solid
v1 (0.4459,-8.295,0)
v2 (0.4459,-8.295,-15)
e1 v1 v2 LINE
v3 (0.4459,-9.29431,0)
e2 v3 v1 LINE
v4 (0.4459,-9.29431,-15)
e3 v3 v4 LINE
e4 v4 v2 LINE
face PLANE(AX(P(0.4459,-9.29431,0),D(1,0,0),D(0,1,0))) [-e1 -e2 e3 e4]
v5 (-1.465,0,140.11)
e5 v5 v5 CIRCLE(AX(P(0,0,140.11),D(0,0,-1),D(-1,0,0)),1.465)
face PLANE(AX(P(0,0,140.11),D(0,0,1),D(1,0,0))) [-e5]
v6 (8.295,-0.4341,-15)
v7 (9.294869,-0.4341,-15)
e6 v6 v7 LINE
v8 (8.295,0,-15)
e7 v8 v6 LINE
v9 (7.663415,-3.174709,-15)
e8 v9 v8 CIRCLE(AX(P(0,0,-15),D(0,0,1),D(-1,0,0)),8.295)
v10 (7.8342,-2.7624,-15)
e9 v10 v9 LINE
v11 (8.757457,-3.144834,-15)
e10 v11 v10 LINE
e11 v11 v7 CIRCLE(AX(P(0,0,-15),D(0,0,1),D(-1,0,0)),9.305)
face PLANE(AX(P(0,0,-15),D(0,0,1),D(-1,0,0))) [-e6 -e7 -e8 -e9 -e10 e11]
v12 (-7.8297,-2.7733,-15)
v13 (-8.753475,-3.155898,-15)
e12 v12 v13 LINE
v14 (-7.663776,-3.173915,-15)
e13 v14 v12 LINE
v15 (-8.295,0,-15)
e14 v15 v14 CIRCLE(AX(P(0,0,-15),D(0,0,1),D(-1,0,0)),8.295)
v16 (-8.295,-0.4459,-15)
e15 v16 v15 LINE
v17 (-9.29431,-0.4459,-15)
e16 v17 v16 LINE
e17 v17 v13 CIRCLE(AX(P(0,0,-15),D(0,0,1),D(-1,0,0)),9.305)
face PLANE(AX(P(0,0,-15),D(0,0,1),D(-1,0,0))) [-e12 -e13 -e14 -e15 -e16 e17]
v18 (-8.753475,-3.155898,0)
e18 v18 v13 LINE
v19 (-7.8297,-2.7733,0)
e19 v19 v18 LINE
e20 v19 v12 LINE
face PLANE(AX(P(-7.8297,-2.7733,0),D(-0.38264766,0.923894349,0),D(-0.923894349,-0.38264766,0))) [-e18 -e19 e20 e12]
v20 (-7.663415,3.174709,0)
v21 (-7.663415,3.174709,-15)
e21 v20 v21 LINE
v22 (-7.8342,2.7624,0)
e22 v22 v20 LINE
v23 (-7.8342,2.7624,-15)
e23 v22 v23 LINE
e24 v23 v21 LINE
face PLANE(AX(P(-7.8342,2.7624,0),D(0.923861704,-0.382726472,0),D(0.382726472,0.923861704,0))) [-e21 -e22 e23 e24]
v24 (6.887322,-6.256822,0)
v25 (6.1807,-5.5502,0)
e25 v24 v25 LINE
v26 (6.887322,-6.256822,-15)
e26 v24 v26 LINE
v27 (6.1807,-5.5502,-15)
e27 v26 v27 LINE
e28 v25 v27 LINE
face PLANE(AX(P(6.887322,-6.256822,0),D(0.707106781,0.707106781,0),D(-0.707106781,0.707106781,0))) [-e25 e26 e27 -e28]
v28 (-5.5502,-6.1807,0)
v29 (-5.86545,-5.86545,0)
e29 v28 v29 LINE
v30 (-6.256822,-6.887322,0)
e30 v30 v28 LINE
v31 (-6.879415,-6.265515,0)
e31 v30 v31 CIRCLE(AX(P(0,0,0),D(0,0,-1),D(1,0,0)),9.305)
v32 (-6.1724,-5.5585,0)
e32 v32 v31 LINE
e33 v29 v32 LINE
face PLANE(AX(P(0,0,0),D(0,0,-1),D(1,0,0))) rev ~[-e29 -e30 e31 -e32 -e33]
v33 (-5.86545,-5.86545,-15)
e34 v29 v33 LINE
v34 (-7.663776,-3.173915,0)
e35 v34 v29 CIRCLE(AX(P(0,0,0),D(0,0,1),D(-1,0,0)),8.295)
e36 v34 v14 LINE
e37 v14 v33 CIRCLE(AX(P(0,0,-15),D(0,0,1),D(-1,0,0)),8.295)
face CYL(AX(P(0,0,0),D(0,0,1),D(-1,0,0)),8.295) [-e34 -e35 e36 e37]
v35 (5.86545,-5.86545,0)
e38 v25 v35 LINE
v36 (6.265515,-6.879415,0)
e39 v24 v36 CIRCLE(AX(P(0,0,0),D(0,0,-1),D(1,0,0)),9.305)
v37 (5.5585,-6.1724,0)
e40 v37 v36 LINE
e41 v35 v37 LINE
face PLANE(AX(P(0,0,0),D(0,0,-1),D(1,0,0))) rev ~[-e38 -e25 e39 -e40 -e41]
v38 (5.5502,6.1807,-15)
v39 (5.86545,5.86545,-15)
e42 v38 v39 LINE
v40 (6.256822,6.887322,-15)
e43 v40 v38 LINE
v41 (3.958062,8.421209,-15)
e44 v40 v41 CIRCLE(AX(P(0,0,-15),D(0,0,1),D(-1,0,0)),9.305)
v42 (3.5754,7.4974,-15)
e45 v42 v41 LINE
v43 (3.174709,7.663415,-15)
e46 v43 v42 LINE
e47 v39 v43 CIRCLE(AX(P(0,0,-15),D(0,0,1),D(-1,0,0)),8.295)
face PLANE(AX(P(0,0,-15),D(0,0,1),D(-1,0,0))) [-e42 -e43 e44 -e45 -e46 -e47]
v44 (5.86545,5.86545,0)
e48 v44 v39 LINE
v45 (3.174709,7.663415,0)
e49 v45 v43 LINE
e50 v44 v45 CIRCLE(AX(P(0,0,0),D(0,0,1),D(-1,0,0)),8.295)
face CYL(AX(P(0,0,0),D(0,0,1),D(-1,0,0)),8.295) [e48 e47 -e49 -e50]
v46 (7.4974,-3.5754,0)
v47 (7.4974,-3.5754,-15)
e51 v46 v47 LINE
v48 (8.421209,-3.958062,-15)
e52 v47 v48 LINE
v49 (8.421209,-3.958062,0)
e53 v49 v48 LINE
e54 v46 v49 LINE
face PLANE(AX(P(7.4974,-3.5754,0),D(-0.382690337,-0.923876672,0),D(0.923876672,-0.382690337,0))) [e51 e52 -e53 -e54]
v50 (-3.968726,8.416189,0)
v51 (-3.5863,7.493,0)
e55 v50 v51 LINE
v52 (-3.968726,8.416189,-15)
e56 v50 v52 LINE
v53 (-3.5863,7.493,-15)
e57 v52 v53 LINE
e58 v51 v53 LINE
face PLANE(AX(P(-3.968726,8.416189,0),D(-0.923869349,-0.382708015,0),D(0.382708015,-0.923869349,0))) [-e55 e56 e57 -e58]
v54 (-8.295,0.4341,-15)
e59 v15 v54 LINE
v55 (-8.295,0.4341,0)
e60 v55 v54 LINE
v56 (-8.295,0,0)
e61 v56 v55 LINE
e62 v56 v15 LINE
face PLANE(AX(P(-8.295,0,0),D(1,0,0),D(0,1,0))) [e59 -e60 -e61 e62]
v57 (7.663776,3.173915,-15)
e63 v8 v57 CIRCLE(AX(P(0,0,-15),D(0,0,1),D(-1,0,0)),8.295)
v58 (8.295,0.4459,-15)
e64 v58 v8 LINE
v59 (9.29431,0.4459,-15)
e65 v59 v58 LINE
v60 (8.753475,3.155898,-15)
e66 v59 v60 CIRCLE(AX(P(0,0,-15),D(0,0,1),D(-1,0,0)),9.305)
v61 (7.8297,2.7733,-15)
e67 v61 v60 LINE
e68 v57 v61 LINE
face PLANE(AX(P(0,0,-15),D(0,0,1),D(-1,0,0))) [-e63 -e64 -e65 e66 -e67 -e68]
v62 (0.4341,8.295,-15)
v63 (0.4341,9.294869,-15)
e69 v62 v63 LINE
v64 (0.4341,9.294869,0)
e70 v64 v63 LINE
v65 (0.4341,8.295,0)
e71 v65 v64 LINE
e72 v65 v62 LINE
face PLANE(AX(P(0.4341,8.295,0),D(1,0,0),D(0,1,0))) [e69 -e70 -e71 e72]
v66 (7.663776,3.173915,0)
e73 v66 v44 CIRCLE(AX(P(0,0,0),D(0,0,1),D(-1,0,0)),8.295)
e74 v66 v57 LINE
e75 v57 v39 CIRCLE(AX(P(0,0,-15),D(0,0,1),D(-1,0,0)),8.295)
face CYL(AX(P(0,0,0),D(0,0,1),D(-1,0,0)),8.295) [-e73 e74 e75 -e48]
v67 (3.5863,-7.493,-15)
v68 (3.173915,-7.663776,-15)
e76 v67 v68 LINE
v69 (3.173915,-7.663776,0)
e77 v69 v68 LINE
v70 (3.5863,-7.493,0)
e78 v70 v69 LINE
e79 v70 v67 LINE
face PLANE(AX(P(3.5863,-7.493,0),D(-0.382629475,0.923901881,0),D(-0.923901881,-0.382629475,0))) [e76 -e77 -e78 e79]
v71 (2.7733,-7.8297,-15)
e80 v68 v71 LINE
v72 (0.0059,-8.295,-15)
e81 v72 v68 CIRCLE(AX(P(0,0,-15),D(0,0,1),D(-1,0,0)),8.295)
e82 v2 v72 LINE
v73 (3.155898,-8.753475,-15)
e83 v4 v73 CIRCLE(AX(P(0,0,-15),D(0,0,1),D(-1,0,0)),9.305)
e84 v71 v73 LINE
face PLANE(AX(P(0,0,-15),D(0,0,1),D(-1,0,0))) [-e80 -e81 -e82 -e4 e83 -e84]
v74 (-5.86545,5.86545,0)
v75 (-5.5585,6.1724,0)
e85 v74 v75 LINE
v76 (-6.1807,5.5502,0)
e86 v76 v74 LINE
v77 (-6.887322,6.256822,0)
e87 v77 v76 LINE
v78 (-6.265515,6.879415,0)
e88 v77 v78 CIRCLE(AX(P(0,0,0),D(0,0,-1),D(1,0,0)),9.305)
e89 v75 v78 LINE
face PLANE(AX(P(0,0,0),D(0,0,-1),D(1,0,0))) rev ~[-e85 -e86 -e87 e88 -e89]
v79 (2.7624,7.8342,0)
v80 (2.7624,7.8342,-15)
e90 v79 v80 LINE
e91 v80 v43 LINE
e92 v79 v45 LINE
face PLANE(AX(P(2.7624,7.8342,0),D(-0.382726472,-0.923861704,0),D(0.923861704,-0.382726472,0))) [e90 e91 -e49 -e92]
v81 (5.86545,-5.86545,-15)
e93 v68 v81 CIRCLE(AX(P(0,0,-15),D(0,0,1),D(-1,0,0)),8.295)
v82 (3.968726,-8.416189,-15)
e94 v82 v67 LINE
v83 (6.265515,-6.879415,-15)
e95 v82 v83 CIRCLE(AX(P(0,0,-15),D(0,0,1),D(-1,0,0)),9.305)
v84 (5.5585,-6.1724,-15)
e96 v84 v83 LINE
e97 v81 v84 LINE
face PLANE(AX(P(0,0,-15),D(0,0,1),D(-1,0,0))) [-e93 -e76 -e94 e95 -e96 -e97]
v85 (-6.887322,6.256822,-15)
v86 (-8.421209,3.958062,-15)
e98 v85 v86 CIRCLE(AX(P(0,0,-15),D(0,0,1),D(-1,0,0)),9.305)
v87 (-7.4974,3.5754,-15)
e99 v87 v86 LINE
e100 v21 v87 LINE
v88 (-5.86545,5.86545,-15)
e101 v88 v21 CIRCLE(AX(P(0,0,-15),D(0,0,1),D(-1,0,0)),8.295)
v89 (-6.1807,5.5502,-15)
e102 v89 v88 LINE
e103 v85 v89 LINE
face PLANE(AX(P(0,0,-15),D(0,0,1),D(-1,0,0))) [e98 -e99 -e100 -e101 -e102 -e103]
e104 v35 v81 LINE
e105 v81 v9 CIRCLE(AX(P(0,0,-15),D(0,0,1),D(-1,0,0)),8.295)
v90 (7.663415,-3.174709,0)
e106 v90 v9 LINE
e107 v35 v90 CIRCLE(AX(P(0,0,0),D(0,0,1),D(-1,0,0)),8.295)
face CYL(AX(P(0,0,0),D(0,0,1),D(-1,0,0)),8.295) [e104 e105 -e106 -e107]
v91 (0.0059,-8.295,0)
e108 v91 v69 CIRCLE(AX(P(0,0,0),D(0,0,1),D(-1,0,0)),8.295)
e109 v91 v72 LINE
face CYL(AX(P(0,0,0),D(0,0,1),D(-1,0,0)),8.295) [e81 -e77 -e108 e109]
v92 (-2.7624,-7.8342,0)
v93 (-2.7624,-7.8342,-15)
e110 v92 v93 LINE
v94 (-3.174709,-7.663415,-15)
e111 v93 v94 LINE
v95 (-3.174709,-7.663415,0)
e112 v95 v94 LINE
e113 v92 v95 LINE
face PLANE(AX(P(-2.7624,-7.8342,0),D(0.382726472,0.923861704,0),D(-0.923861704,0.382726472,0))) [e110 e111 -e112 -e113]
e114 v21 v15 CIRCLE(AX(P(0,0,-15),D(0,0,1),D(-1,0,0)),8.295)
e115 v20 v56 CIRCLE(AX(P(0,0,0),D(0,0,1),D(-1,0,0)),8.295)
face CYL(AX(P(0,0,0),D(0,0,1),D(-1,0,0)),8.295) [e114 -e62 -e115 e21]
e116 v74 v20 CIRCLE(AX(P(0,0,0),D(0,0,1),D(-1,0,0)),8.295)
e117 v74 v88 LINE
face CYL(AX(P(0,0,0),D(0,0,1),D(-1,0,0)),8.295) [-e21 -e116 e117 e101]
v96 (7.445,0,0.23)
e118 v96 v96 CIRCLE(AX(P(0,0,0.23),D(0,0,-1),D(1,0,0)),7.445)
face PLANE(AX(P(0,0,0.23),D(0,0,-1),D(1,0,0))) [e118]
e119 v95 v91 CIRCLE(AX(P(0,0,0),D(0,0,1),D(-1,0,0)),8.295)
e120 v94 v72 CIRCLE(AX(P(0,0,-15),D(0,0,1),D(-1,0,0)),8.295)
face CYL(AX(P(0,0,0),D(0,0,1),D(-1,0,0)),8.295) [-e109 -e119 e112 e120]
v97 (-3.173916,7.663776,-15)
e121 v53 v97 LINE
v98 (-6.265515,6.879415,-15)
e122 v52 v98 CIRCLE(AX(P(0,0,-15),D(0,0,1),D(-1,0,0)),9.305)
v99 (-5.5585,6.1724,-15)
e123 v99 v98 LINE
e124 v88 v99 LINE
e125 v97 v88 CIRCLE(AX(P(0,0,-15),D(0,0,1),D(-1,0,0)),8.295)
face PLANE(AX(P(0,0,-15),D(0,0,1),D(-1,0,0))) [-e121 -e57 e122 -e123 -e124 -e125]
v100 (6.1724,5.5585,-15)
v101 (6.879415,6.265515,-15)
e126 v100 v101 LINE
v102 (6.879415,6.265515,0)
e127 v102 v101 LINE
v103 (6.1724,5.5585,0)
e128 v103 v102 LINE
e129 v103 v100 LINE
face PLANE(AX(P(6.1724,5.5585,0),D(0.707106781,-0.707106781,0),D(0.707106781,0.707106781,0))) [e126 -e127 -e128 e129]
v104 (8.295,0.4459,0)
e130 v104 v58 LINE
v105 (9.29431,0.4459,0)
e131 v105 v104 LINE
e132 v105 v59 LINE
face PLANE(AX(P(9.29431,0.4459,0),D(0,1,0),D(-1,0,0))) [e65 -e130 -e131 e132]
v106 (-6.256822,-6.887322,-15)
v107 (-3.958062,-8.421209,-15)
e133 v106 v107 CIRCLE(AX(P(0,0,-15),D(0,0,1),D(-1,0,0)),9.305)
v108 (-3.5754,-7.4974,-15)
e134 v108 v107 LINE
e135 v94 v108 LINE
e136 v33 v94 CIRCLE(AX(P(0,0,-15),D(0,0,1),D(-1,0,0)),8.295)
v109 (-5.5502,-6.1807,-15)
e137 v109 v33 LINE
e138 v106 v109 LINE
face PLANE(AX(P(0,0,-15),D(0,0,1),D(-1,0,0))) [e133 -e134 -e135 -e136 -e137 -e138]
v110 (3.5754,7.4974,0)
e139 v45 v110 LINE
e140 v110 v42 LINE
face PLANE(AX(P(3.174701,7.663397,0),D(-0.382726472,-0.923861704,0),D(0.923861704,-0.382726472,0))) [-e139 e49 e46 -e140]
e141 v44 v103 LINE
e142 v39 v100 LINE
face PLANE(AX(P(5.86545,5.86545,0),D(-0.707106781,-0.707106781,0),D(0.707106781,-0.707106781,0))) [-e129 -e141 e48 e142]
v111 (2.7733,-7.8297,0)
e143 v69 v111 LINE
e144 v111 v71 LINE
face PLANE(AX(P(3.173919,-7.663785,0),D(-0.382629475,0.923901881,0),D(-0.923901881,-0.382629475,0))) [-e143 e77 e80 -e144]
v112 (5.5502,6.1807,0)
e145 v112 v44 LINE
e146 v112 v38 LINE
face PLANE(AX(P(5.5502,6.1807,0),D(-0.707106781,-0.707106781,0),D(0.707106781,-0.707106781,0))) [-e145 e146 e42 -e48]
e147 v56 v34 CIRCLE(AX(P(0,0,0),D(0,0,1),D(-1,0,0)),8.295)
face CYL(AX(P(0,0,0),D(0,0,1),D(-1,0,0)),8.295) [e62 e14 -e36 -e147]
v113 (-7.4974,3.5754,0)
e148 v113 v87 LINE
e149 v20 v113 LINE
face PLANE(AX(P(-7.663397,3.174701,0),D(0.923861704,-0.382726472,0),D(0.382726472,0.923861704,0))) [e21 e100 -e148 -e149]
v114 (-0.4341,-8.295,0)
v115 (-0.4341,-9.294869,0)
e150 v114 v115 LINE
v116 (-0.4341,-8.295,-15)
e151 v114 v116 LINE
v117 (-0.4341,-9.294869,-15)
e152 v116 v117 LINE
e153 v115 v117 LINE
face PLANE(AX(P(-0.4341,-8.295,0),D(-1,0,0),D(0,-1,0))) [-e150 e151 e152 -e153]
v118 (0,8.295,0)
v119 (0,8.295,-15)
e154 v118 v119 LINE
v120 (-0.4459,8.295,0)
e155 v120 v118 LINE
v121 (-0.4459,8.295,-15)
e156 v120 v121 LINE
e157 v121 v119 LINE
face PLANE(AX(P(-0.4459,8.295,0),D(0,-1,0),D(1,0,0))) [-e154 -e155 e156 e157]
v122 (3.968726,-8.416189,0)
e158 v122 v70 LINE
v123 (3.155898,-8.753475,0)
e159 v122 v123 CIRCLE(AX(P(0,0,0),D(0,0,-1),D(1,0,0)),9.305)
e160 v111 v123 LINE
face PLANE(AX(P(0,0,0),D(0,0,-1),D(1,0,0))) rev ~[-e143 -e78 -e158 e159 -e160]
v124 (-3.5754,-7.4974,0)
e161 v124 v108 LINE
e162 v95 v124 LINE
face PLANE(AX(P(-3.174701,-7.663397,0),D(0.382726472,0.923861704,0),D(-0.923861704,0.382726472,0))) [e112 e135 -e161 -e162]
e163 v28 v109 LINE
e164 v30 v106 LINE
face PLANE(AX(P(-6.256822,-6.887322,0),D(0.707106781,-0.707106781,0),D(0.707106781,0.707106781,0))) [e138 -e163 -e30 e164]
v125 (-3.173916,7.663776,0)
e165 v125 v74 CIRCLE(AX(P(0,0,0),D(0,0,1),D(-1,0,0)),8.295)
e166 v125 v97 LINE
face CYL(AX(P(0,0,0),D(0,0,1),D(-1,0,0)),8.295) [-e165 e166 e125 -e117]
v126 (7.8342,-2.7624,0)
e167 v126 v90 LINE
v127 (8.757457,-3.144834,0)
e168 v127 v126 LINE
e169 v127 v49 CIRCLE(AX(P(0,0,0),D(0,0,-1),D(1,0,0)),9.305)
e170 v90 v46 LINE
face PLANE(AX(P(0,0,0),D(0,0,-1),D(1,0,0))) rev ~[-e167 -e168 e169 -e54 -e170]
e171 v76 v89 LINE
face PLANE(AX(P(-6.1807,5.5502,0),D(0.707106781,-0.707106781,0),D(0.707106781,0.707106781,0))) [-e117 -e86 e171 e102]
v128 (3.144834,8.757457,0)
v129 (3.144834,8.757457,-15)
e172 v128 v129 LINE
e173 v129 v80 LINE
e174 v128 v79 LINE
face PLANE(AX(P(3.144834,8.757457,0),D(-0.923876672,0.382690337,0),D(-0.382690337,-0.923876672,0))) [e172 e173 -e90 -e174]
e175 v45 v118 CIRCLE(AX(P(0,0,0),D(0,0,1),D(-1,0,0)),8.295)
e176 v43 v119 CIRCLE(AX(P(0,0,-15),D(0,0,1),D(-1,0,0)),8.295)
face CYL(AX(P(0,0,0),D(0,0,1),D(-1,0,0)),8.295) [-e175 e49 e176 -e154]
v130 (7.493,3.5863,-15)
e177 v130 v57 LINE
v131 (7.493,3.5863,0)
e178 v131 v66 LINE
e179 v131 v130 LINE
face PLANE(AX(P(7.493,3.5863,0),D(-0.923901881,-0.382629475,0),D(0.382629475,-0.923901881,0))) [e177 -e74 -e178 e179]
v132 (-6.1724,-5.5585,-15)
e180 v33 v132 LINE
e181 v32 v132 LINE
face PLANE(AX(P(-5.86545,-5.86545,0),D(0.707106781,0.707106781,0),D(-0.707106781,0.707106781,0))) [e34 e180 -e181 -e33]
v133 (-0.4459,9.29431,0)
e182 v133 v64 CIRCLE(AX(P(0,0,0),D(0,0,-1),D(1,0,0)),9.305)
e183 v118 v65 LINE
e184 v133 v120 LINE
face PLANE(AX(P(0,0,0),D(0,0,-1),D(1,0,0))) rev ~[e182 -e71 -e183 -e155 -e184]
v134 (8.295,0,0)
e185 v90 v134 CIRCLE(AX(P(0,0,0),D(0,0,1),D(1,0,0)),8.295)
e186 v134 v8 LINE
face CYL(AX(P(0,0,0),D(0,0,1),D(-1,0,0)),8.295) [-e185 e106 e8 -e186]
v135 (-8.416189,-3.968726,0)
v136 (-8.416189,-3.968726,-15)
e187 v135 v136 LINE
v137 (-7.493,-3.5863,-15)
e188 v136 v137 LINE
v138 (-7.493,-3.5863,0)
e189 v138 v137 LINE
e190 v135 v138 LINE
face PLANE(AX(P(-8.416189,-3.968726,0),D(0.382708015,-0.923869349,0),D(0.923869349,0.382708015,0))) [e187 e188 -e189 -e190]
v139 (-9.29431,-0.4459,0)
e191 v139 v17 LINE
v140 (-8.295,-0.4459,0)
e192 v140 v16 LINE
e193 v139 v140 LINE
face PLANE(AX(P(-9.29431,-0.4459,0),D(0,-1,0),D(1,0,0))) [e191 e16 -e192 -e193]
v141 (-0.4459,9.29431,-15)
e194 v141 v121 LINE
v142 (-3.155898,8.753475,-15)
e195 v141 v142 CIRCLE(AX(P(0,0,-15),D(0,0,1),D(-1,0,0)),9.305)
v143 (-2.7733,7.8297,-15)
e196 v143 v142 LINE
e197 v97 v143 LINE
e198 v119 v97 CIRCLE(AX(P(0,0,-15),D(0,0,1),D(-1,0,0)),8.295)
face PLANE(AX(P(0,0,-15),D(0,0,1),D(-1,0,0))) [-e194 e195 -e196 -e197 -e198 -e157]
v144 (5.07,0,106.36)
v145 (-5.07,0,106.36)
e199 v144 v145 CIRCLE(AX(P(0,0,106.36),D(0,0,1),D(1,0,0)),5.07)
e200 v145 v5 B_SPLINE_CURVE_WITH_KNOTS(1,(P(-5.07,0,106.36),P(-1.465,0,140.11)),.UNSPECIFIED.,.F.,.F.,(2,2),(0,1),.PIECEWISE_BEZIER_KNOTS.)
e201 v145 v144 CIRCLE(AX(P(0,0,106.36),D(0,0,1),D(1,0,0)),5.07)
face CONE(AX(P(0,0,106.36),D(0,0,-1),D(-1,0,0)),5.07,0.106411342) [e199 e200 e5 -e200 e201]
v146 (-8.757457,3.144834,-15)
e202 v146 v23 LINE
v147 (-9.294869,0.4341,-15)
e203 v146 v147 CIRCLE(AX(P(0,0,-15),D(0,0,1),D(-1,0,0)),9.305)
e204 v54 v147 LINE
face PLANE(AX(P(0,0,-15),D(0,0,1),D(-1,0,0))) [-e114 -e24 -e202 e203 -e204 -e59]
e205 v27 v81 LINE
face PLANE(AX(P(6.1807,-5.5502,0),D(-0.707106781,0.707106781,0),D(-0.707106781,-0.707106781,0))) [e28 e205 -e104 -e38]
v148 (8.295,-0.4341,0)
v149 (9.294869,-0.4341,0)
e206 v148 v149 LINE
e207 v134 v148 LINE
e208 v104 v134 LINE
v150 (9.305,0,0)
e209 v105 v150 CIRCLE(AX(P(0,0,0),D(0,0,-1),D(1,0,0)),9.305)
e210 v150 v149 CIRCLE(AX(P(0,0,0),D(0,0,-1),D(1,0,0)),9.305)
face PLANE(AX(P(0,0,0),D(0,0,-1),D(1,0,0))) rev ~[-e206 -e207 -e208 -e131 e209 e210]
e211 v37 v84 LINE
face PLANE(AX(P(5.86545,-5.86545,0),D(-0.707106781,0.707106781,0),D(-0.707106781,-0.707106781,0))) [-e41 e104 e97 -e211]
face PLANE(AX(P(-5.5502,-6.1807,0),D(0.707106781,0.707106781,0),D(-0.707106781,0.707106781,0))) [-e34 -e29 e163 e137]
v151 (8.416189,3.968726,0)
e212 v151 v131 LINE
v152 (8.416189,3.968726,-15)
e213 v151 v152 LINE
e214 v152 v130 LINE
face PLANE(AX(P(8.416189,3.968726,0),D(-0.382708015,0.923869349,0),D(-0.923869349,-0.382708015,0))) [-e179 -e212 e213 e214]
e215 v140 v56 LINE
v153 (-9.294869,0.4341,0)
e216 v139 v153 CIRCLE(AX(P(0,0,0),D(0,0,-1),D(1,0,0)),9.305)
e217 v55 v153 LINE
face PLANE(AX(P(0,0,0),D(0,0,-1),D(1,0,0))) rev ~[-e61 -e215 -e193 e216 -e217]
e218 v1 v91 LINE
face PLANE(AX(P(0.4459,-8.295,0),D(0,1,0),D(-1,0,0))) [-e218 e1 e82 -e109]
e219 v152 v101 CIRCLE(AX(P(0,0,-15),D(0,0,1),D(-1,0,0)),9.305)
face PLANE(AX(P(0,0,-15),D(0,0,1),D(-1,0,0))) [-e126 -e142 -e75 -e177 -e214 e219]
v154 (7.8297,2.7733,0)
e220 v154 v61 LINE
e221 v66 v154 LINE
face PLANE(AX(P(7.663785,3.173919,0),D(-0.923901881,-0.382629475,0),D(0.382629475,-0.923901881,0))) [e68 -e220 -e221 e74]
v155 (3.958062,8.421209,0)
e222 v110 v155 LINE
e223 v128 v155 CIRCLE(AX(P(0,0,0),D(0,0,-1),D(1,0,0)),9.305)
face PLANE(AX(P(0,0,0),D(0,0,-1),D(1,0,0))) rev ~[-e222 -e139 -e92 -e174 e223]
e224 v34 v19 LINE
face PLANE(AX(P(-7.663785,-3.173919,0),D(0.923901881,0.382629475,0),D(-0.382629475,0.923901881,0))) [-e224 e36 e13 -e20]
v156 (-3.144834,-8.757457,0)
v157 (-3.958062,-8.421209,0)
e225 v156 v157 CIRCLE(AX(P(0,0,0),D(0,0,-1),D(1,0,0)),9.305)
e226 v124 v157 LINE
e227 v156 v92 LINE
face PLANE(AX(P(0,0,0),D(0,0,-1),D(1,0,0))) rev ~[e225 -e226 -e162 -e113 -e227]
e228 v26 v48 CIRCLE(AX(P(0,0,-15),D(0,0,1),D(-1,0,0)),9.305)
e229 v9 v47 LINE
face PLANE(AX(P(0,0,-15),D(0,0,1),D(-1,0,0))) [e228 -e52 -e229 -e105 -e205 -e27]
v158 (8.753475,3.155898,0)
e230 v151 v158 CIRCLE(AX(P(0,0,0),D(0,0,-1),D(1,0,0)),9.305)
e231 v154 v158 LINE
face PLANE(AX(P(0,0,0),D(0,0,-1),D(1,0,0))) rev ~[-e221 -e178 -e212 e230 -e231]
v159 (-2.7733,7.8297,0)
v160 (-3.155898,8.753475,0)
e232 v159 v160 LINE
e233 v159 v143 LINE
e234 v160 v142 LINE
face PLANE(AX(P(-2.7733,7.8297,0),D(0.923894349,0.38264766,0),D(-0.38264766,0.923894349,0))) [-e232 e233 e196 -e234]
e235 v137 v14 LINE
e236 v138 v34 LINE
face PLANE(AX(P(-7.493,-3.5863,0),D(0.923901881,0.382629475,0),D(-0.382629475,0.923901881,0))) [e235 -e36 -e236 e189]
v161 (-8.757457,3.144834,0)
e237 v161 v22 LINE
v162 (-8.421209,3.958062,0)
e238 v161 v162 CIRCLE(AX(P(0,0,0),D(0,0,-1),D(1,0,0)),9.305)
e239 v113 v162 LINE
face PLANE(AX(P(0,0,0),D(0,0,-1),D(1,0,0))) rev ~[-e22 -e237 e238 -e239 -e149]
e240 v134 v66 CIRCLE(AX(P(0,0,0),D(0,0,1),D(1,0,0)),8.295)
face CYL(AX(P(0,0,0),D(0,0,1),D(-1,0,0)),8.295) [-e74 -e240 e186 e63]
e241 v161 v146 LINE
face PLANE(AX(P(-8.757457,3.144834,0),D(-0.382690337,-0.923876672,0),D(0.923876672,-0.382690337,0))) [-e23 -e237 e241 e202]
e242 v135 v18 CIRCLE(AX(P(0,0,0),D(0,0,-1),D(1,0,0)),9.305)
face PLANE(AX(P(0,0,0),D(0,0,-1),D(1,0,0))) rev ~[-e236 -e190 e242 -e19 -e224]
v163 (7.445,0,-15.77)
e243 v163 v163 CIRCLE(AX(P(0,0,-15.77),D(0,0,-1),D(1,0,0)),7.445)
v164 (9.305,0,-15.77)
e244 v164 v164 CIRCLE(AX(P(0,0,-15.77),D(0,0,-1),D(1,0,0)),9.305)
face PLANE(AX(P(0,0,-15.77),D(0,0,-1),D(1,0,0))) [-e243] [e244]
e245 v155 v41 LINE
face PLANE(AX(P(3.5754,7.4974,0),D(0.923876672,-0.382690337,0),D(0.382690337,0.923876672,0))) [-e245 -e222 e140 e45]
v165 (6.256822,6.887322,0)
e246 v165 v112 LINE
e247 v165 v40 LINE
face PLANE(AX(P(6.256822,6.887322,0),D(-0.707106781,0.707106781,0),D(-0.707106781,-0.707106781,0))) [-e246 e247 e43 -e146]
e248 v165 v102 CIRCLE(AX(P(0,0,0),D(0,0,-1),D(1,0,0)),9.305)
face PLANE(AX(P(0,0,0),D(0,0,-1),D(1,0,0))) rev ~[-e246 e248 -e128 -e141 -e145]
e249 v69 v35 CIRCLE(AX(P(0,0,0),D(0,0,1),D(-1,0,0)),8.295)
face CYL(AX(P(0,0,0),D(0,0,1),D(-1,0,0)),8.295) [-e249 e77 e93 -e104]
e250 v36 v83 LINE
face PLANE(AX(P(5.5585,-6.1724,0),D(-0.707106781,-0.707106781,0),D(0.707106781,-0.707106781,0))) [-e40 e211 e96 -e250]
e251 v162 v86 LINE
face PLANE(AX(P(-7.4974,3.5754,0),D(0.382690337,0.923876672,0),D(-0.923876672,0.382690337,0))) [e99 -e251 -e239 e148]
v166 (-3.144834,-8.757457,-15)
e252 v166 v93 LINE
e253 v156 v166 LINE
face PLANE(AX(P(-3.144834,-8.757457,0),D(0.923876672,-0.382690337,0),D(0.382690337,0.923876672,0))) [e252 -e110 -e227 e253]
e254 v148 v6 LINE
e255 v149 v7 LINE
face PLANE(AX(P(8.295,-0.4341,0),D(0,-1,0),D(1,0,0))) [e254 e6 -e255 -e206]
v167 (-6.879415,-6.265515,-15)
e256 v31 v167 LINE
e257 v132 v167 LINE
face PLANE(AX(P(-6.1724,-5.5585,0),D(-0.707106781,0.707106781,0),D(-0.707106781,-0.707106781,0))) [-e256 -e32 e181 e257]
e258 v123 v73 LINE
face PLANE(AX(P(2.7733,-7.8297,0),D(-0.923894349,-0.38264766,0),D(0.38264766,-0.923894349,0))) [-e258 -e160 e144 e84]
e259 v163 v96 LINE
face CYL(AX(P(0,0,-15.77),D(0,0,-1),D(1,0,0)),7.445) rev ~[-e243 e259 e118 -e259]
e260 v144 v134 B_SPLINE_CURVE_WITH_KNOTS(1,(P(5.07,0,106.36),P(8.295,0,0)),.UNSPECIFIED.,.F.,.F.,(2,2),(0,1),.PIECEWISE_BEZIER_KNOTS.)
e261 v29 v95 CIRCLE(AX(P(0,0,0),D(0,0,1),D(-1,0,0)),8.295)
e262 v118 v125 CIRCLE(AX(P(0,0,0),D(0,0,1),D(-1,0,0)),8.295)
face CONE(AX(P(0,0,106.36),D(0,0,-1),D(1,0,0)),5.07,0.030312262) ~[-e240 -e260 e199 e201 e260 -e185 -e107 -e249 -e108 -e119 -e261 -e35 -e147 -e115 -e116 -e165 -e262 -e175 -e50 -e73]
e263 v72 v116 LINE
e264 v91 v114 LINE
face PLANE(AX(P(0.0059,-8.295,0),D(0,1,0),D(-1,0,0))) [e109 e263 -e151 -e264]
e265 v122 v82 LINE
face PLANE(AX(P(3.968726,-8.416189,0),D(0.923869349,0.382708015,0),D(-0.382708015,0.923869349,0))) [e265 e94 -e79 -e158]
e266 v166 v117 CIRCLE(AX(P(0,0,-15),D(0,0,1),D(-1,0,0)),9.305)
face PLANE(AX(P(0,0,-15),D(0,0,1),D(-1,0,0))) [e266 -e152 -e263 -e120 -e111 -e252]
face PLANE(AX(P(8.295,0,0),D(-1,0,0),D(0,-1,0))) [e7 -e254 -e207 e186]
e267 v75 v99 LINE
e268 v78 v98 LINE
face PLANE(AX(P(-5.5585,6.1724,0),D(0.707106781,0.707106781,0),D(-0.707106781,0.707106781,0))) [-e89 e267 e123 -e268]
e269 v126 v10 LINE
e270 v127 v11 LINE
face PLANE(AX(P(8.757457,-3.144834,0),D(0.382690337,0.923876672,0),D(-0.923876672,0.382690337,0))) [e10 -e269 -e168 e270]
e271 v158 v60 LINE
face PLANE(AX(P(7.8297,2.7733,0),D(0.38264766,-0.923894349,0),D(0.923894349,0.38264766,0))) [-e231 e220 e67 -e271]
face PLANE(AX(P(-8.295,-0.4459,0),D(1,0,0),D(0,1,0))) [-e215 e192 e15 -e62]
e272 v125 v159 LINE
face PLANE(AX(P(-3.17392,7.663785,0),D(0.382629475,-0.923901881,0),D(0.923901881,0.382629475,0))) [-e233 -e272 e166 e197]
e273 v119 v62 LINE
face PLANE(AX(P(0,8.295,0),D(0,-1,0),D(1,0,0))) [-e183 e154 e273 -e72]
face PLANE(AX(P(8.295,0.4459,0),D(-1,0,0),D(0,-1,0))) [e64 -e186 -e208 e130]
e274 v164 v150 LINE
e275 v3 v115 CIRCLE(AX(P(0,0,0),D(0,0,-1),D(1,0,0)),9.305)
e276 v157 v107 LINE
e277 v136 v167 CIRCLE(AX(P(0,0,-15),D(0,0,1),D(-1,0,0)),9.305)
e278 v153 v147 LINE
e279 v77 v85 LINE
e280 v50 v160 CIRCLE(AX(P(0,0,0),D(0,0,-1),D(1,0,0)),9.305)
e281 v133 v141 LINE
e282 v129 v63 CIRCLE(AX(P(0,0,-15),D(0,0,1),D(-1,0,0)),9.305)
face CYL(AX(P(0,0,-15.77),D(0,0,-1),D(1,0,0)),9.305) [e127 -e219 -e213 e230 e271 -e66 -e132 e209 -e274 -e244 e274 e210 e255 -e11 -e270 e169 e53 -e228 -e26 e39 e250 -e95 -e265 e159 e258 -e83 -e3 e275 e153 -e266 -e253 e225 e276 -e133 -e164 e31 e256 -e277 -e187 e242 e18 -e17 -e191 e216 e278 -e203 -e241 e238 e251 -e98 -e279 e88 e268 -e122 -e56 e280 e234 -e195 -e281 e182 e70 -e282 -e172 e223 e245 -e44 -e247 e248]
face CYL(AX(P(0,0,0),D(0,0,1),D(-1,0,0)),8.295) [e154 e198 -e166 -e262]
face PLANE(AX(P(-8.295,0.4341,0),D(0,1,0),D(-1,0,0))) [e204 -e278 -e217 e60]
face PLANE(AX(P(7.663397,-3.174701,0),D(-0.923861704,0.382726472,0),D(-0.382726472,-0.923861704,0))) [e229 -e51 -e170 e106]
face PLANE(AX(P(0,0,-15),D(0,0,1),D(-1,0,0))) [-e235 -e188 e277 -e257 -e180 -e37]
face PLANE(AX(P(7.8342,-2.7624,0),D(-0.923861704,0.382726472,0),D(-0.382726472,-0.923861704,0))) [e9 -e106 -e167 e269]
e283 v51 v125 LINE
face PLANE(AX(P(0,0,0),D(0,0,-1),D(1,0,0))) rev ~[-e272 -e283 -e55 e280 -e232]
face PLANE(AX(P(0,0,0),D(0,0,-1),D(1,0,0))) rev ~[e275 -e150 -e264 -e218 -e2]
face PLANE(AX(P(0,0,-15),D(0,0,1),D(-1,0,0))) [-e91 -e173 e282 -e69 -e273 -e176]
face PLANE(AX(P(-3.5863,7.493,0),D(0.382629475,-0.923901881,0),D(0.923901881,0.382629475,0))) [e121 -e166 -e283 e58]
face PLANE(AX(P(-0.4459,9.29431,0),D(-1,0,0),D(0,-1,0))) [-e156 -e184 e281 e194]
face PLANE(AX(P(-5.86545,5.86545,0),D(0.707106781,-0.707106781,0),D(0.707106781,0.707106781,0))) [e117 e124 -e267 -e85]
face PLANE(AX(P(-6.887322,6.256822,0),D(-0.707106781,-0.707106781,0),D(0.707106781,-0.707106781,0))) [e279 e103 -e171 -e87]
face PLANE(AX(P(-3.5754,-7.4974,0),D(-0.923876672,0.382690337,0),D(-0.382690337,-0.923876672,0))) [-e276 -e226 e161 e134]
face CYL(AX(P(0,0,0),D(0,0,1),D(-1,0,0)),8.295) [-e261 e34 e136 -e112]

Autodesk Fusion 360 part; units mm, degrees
sketch "Sketch1" plane through (0, 0, 0) normal (0, 0, 1) x (1, 0, 0)
  circle A0 centre (0, 0) radius 8.295
  dimension "d1" = 16.59
sketch "Sketch3" plane through (0, 0, 0) normal (0, 0, 1) x (1, 0, 0)
ref_plane "WorkPlane1" through (0, 0, 106.36) normal (0, 0, 1) x (1, 0, 0)
sketch "Sketch4" plane through (0, 0, 106.36) normal (0, 0, 1) x (1, 0, 0)
  circle A0 centre (0, 0) radius 5.07
  dimension "d4" = 10.14
loft "Loft1" add profiles "Sketch4", "Sketch1" section 1 section 2
sketch "Sketch5" plane through (0, 0, 106.36) normal (0, 0, 1) x (-1, 0, 0)
  circle A0 centre (0, 0) radius 5.07
ref_plane "WorkPlane3" through (0, 0, 140.11) normal (0, 0, 1) x (-1, 0, 0)
sketch "Sketch6" plane through (0, 0, 140.11) normal (0, 0, 1) x (1, 0, 0)
  circle A0 centre (0, 0) radius 1.465
  dimension "d6" = 2.93
loft "Loft2" add profiles "Sketch5", "Sketch6" section 1 section 2
sketch "Sketch7" plane through (0, 0, 0) normal (0, 0, -1) x (1, 0, 0)
  circle A0 centre (0, 0) radius 8.295
ref_plane "WorkPlane4" through (0, 0, -15.77) normal (0, 0, -1) x (1, 0, 0)
sketch "Sketch8" plane through (0, 0, -15.77) normal (0, 0, -1) x (1, 0, 0)
  circle A0 centre (0, 0) radius 9.305
  dimension "d8" = 18.61
extrude "Extrude1" add sketch "Sketch7" along normal blind 15.77
sketch "Sketch9" plane through (0, 0, 0) normal (0, 0, 1) x (1, 0, 0)
extrude "Extrude2" add sketch "Sketch8" against normal blind 15.77
sketch "Sketch10" plane through (0, 0, 0) normal (0, 0, 1) x (-1, 0, 0)
  circle A0 centre (0, 0) radius 9.305
  circle A1 centre (0, 0) radius 8.295
  line L0 (-0.4459, 8.295) -> (0.4341, 8.295)
  line L1 (0.4341, 8.295) -> (0.4341, 10.295)
  line L2 (0.4341, 10.295) -> (-0.4459, 10.295)
  line L3 (-0.4459, 10.295) -> (-0.4459, 8.295)
  line L4 (-0.0059, 10.295) -> (-0.0059, 8.295)
  line L5 (-0.0059, 8.295) -> (-0.0059, 9.305)
  line L6 (-4.3517, 9.3407) -> (-3.5863, 7.493)
  line L7 (-3.5386, 9.6775) -> (-4.3517, 9.3407)
  line L8 (-3.5863, 7.493) -> (-2.7733, 7.8297)
  line L9 (-2.7733, 7.8297) -> (-3.5386, 9.6775)
  line L10 (-7.5949, 6.9644) -> (-6.1807, 5.5502)
  line L11 (-6.9727, 7.5866) -> (-7.5949, 6.9644)
  line L12 (-6.1807, 5.5502) -> (-5.5585, 6.1724)
  line L13 (-5.5585, 6.1724) -> (-6.9727, 7.5866)
  line L14 (-9.682, 3.5278) -> (-7.8342, 2.7624)
  line L15 (-9.3452, 4.3408) -> (-9.682, 3.5278)
  line L16 (-7.8342, 2.7624) -> (-7.4974, 3.5754)
  line L17 (-7.4974, 3.5754) -> (-9.3452, 4.3408)
  line L18 (-10.295, -0.4459) -> (-8.295, -0.4459)
  line L19 (-10.295, 0.4341) -> (-10.295, -0.4459)
  line L20 (-8.295, -0.4459) -> (-8.295, 0.4341)
  line L21 (-8.295, 0.4341) -> (-10.295, 0.4341)
  line L22 (-9.3407, -4.3517) -> (-7.493, -3.5863)
  line L23 (-9.6775, -3.5386) -> (-9.3407, -4.3517)
  line L24 (-7.493, -3.5863) -> (-7.8297, -2.7733)
  line L25 (-7.8297, -2.7733) -> (-9.6775, -3.5386)
  line L26 (-6.9644, -7.5949) -> (-5.5502, -6.1807)
  line L27 (-7.5866, -6.9727) -> (-6.9644, -7.5949)
  line L28 (-5.5502, -6.1807) -> (-6.1724, -5.5585)
  line L29 (-6.1724, -5.5585) -> (-7.5866, -6.9727)
  line L30 (-3.5278, -9.682) -> (-2.7624, -7.8342)
  line L31 (-4.3408, -9.3452) -> (-3.5278, -9.682)
  line L32 (-2.7624, -7.8342) -> (-3.5754, -7.4974)
  line L33 (-3.5754, -7.4974) -> (-4.3408, -9.3452)
  line L34 (0.4459, -10.295) -> (0.4459, -8.295)
  line L35 (-0.4341, -10.295) -> (0.4459, -10.295)
  line L36 (0.4459, -8.295) -> (-0.4341, -8.295)
  line L37 (-0.4341, -8.295) -> (-0.4341, -10.295)
  line L38 (4.3517, -9.3407) -> (3.5863, -7.493)
  line L39 (3.5386, -9.6775) -> (4.3517, -9.3407)
  line L40 (3.5863, -7.493) -> (2.7733, -7.8297)
  line L41 (2.7733, -7.8297) -> (3.5386, -9.6775)
  line L42 (7.5949, -6.9644) -> (6.1807, -5.5502)
  line L43 (6.9727, -7.5866) -> (7.5949, -6.9644)
  line L44 (6.1807, -5.5502) -> (5.5585, -6.1724)
  line L45 (5.5585, -6.1724) -> (6.9727, -7.5866)
  line L46 (9.682, -3.5278) -> (7.8342, -2.7624)
  line L47 (9.3452, -4.3408) -> (9.682, -3.5278)
  line L48 (7.8342, -2.7624) -> (7.4974, -3.5754)
  line L49 (7.4974, -3.5754) -> (9.3452, -4.3408)
  line L50 (10.295, 0.4459) -> (8.295, 0.4459)
  line L51 (10.295, -0.4341) -> (10.295, 0.4459)
  line L52 (8.295, 0.4459) -> (8.295, -0.4341)
  line L53 (8.295, -0.4341) -> (10.295, -0.4341)
  line L54 (9.3407, 4.3517) -> (7.493, 3.5863)
  line L55 (9.6775, 3.5386) -> (9.3407, 4.3517)
  line L56 (7.493, 3.5863) -> (7.8297, 2.7733)
  line L57 (7.8297, 2.7733) -> (9.6775, 3.5386)
  line L58 (6.9644, 7.5949) -> (5.5502, 6.1807)
  line L59 (7.5866, 6.9727) -> (6.9644, 7.5949)
  line L60 (5.5502, 6.1807) -> (6.1724, 5.5585)
  line L61 (6.1724, 5.5585) -> (7.5866, 6.9727)
  line L62 (3.5278, 9.682) -> (2.7624, 7.8342)
  line L63 (4.3408, 9.3452) -> (3.5278, 9.682)
  line L64 (2.7624, 7.8342) -> (3.5754, 7.4974)
  line L65 (3.5754, 7.4974) -> (4.3408, 9.3452)
  dimension "d14" = 0.88
  dimension "d15" = 2
  dimension "d17" = 360
extrude "Extrude3" cut sketch "Sketch10" against normal blind 15 contours A0 A1 L50 L52 L56 L57 | A0 A1 L46 L48 L52 L53 | A0 A1 L54 L56 L60 L61 | A0 A1 L42 L44 L48 L49 | A0 A1 L58 L60 L64 L65 | A0 A1 L38 L40 L44 L45 | A0 A1 L0 L3 L8 L9 | A0 A1 L0 L1 L62 L64 | A0 A1 L34 L36 L40 L41 | A0 A1 L30 L32 L36 L37 | A0 A1 L6 L8 L12 L13 | A0 A1 L26 L28 L32 L33 | A0 A1 L10 L12 L16 L17 | A0 A1 L22 L24 L28 L29 | A0 A1 L14 L16 L20 L21 | A0 A1 L18 L20 L24 L25
sketch "Sketch11" plane through (0, 0, -15.77) normal (0, 0, -1) x (1, 0, 0)
  circle A0 centre (0, 0) radius 9.305
  circle A1 centre (0, 0) radius 7.445
  dimension "d20" = 14.89
extrude "Extrude4" cut sketch "Sketch11" against normal blind 16 contours A1
ref_plane "WorkPlane2" through (0, 0, 106.36) normal (0, 0, 1) x (1, 0, 0)
